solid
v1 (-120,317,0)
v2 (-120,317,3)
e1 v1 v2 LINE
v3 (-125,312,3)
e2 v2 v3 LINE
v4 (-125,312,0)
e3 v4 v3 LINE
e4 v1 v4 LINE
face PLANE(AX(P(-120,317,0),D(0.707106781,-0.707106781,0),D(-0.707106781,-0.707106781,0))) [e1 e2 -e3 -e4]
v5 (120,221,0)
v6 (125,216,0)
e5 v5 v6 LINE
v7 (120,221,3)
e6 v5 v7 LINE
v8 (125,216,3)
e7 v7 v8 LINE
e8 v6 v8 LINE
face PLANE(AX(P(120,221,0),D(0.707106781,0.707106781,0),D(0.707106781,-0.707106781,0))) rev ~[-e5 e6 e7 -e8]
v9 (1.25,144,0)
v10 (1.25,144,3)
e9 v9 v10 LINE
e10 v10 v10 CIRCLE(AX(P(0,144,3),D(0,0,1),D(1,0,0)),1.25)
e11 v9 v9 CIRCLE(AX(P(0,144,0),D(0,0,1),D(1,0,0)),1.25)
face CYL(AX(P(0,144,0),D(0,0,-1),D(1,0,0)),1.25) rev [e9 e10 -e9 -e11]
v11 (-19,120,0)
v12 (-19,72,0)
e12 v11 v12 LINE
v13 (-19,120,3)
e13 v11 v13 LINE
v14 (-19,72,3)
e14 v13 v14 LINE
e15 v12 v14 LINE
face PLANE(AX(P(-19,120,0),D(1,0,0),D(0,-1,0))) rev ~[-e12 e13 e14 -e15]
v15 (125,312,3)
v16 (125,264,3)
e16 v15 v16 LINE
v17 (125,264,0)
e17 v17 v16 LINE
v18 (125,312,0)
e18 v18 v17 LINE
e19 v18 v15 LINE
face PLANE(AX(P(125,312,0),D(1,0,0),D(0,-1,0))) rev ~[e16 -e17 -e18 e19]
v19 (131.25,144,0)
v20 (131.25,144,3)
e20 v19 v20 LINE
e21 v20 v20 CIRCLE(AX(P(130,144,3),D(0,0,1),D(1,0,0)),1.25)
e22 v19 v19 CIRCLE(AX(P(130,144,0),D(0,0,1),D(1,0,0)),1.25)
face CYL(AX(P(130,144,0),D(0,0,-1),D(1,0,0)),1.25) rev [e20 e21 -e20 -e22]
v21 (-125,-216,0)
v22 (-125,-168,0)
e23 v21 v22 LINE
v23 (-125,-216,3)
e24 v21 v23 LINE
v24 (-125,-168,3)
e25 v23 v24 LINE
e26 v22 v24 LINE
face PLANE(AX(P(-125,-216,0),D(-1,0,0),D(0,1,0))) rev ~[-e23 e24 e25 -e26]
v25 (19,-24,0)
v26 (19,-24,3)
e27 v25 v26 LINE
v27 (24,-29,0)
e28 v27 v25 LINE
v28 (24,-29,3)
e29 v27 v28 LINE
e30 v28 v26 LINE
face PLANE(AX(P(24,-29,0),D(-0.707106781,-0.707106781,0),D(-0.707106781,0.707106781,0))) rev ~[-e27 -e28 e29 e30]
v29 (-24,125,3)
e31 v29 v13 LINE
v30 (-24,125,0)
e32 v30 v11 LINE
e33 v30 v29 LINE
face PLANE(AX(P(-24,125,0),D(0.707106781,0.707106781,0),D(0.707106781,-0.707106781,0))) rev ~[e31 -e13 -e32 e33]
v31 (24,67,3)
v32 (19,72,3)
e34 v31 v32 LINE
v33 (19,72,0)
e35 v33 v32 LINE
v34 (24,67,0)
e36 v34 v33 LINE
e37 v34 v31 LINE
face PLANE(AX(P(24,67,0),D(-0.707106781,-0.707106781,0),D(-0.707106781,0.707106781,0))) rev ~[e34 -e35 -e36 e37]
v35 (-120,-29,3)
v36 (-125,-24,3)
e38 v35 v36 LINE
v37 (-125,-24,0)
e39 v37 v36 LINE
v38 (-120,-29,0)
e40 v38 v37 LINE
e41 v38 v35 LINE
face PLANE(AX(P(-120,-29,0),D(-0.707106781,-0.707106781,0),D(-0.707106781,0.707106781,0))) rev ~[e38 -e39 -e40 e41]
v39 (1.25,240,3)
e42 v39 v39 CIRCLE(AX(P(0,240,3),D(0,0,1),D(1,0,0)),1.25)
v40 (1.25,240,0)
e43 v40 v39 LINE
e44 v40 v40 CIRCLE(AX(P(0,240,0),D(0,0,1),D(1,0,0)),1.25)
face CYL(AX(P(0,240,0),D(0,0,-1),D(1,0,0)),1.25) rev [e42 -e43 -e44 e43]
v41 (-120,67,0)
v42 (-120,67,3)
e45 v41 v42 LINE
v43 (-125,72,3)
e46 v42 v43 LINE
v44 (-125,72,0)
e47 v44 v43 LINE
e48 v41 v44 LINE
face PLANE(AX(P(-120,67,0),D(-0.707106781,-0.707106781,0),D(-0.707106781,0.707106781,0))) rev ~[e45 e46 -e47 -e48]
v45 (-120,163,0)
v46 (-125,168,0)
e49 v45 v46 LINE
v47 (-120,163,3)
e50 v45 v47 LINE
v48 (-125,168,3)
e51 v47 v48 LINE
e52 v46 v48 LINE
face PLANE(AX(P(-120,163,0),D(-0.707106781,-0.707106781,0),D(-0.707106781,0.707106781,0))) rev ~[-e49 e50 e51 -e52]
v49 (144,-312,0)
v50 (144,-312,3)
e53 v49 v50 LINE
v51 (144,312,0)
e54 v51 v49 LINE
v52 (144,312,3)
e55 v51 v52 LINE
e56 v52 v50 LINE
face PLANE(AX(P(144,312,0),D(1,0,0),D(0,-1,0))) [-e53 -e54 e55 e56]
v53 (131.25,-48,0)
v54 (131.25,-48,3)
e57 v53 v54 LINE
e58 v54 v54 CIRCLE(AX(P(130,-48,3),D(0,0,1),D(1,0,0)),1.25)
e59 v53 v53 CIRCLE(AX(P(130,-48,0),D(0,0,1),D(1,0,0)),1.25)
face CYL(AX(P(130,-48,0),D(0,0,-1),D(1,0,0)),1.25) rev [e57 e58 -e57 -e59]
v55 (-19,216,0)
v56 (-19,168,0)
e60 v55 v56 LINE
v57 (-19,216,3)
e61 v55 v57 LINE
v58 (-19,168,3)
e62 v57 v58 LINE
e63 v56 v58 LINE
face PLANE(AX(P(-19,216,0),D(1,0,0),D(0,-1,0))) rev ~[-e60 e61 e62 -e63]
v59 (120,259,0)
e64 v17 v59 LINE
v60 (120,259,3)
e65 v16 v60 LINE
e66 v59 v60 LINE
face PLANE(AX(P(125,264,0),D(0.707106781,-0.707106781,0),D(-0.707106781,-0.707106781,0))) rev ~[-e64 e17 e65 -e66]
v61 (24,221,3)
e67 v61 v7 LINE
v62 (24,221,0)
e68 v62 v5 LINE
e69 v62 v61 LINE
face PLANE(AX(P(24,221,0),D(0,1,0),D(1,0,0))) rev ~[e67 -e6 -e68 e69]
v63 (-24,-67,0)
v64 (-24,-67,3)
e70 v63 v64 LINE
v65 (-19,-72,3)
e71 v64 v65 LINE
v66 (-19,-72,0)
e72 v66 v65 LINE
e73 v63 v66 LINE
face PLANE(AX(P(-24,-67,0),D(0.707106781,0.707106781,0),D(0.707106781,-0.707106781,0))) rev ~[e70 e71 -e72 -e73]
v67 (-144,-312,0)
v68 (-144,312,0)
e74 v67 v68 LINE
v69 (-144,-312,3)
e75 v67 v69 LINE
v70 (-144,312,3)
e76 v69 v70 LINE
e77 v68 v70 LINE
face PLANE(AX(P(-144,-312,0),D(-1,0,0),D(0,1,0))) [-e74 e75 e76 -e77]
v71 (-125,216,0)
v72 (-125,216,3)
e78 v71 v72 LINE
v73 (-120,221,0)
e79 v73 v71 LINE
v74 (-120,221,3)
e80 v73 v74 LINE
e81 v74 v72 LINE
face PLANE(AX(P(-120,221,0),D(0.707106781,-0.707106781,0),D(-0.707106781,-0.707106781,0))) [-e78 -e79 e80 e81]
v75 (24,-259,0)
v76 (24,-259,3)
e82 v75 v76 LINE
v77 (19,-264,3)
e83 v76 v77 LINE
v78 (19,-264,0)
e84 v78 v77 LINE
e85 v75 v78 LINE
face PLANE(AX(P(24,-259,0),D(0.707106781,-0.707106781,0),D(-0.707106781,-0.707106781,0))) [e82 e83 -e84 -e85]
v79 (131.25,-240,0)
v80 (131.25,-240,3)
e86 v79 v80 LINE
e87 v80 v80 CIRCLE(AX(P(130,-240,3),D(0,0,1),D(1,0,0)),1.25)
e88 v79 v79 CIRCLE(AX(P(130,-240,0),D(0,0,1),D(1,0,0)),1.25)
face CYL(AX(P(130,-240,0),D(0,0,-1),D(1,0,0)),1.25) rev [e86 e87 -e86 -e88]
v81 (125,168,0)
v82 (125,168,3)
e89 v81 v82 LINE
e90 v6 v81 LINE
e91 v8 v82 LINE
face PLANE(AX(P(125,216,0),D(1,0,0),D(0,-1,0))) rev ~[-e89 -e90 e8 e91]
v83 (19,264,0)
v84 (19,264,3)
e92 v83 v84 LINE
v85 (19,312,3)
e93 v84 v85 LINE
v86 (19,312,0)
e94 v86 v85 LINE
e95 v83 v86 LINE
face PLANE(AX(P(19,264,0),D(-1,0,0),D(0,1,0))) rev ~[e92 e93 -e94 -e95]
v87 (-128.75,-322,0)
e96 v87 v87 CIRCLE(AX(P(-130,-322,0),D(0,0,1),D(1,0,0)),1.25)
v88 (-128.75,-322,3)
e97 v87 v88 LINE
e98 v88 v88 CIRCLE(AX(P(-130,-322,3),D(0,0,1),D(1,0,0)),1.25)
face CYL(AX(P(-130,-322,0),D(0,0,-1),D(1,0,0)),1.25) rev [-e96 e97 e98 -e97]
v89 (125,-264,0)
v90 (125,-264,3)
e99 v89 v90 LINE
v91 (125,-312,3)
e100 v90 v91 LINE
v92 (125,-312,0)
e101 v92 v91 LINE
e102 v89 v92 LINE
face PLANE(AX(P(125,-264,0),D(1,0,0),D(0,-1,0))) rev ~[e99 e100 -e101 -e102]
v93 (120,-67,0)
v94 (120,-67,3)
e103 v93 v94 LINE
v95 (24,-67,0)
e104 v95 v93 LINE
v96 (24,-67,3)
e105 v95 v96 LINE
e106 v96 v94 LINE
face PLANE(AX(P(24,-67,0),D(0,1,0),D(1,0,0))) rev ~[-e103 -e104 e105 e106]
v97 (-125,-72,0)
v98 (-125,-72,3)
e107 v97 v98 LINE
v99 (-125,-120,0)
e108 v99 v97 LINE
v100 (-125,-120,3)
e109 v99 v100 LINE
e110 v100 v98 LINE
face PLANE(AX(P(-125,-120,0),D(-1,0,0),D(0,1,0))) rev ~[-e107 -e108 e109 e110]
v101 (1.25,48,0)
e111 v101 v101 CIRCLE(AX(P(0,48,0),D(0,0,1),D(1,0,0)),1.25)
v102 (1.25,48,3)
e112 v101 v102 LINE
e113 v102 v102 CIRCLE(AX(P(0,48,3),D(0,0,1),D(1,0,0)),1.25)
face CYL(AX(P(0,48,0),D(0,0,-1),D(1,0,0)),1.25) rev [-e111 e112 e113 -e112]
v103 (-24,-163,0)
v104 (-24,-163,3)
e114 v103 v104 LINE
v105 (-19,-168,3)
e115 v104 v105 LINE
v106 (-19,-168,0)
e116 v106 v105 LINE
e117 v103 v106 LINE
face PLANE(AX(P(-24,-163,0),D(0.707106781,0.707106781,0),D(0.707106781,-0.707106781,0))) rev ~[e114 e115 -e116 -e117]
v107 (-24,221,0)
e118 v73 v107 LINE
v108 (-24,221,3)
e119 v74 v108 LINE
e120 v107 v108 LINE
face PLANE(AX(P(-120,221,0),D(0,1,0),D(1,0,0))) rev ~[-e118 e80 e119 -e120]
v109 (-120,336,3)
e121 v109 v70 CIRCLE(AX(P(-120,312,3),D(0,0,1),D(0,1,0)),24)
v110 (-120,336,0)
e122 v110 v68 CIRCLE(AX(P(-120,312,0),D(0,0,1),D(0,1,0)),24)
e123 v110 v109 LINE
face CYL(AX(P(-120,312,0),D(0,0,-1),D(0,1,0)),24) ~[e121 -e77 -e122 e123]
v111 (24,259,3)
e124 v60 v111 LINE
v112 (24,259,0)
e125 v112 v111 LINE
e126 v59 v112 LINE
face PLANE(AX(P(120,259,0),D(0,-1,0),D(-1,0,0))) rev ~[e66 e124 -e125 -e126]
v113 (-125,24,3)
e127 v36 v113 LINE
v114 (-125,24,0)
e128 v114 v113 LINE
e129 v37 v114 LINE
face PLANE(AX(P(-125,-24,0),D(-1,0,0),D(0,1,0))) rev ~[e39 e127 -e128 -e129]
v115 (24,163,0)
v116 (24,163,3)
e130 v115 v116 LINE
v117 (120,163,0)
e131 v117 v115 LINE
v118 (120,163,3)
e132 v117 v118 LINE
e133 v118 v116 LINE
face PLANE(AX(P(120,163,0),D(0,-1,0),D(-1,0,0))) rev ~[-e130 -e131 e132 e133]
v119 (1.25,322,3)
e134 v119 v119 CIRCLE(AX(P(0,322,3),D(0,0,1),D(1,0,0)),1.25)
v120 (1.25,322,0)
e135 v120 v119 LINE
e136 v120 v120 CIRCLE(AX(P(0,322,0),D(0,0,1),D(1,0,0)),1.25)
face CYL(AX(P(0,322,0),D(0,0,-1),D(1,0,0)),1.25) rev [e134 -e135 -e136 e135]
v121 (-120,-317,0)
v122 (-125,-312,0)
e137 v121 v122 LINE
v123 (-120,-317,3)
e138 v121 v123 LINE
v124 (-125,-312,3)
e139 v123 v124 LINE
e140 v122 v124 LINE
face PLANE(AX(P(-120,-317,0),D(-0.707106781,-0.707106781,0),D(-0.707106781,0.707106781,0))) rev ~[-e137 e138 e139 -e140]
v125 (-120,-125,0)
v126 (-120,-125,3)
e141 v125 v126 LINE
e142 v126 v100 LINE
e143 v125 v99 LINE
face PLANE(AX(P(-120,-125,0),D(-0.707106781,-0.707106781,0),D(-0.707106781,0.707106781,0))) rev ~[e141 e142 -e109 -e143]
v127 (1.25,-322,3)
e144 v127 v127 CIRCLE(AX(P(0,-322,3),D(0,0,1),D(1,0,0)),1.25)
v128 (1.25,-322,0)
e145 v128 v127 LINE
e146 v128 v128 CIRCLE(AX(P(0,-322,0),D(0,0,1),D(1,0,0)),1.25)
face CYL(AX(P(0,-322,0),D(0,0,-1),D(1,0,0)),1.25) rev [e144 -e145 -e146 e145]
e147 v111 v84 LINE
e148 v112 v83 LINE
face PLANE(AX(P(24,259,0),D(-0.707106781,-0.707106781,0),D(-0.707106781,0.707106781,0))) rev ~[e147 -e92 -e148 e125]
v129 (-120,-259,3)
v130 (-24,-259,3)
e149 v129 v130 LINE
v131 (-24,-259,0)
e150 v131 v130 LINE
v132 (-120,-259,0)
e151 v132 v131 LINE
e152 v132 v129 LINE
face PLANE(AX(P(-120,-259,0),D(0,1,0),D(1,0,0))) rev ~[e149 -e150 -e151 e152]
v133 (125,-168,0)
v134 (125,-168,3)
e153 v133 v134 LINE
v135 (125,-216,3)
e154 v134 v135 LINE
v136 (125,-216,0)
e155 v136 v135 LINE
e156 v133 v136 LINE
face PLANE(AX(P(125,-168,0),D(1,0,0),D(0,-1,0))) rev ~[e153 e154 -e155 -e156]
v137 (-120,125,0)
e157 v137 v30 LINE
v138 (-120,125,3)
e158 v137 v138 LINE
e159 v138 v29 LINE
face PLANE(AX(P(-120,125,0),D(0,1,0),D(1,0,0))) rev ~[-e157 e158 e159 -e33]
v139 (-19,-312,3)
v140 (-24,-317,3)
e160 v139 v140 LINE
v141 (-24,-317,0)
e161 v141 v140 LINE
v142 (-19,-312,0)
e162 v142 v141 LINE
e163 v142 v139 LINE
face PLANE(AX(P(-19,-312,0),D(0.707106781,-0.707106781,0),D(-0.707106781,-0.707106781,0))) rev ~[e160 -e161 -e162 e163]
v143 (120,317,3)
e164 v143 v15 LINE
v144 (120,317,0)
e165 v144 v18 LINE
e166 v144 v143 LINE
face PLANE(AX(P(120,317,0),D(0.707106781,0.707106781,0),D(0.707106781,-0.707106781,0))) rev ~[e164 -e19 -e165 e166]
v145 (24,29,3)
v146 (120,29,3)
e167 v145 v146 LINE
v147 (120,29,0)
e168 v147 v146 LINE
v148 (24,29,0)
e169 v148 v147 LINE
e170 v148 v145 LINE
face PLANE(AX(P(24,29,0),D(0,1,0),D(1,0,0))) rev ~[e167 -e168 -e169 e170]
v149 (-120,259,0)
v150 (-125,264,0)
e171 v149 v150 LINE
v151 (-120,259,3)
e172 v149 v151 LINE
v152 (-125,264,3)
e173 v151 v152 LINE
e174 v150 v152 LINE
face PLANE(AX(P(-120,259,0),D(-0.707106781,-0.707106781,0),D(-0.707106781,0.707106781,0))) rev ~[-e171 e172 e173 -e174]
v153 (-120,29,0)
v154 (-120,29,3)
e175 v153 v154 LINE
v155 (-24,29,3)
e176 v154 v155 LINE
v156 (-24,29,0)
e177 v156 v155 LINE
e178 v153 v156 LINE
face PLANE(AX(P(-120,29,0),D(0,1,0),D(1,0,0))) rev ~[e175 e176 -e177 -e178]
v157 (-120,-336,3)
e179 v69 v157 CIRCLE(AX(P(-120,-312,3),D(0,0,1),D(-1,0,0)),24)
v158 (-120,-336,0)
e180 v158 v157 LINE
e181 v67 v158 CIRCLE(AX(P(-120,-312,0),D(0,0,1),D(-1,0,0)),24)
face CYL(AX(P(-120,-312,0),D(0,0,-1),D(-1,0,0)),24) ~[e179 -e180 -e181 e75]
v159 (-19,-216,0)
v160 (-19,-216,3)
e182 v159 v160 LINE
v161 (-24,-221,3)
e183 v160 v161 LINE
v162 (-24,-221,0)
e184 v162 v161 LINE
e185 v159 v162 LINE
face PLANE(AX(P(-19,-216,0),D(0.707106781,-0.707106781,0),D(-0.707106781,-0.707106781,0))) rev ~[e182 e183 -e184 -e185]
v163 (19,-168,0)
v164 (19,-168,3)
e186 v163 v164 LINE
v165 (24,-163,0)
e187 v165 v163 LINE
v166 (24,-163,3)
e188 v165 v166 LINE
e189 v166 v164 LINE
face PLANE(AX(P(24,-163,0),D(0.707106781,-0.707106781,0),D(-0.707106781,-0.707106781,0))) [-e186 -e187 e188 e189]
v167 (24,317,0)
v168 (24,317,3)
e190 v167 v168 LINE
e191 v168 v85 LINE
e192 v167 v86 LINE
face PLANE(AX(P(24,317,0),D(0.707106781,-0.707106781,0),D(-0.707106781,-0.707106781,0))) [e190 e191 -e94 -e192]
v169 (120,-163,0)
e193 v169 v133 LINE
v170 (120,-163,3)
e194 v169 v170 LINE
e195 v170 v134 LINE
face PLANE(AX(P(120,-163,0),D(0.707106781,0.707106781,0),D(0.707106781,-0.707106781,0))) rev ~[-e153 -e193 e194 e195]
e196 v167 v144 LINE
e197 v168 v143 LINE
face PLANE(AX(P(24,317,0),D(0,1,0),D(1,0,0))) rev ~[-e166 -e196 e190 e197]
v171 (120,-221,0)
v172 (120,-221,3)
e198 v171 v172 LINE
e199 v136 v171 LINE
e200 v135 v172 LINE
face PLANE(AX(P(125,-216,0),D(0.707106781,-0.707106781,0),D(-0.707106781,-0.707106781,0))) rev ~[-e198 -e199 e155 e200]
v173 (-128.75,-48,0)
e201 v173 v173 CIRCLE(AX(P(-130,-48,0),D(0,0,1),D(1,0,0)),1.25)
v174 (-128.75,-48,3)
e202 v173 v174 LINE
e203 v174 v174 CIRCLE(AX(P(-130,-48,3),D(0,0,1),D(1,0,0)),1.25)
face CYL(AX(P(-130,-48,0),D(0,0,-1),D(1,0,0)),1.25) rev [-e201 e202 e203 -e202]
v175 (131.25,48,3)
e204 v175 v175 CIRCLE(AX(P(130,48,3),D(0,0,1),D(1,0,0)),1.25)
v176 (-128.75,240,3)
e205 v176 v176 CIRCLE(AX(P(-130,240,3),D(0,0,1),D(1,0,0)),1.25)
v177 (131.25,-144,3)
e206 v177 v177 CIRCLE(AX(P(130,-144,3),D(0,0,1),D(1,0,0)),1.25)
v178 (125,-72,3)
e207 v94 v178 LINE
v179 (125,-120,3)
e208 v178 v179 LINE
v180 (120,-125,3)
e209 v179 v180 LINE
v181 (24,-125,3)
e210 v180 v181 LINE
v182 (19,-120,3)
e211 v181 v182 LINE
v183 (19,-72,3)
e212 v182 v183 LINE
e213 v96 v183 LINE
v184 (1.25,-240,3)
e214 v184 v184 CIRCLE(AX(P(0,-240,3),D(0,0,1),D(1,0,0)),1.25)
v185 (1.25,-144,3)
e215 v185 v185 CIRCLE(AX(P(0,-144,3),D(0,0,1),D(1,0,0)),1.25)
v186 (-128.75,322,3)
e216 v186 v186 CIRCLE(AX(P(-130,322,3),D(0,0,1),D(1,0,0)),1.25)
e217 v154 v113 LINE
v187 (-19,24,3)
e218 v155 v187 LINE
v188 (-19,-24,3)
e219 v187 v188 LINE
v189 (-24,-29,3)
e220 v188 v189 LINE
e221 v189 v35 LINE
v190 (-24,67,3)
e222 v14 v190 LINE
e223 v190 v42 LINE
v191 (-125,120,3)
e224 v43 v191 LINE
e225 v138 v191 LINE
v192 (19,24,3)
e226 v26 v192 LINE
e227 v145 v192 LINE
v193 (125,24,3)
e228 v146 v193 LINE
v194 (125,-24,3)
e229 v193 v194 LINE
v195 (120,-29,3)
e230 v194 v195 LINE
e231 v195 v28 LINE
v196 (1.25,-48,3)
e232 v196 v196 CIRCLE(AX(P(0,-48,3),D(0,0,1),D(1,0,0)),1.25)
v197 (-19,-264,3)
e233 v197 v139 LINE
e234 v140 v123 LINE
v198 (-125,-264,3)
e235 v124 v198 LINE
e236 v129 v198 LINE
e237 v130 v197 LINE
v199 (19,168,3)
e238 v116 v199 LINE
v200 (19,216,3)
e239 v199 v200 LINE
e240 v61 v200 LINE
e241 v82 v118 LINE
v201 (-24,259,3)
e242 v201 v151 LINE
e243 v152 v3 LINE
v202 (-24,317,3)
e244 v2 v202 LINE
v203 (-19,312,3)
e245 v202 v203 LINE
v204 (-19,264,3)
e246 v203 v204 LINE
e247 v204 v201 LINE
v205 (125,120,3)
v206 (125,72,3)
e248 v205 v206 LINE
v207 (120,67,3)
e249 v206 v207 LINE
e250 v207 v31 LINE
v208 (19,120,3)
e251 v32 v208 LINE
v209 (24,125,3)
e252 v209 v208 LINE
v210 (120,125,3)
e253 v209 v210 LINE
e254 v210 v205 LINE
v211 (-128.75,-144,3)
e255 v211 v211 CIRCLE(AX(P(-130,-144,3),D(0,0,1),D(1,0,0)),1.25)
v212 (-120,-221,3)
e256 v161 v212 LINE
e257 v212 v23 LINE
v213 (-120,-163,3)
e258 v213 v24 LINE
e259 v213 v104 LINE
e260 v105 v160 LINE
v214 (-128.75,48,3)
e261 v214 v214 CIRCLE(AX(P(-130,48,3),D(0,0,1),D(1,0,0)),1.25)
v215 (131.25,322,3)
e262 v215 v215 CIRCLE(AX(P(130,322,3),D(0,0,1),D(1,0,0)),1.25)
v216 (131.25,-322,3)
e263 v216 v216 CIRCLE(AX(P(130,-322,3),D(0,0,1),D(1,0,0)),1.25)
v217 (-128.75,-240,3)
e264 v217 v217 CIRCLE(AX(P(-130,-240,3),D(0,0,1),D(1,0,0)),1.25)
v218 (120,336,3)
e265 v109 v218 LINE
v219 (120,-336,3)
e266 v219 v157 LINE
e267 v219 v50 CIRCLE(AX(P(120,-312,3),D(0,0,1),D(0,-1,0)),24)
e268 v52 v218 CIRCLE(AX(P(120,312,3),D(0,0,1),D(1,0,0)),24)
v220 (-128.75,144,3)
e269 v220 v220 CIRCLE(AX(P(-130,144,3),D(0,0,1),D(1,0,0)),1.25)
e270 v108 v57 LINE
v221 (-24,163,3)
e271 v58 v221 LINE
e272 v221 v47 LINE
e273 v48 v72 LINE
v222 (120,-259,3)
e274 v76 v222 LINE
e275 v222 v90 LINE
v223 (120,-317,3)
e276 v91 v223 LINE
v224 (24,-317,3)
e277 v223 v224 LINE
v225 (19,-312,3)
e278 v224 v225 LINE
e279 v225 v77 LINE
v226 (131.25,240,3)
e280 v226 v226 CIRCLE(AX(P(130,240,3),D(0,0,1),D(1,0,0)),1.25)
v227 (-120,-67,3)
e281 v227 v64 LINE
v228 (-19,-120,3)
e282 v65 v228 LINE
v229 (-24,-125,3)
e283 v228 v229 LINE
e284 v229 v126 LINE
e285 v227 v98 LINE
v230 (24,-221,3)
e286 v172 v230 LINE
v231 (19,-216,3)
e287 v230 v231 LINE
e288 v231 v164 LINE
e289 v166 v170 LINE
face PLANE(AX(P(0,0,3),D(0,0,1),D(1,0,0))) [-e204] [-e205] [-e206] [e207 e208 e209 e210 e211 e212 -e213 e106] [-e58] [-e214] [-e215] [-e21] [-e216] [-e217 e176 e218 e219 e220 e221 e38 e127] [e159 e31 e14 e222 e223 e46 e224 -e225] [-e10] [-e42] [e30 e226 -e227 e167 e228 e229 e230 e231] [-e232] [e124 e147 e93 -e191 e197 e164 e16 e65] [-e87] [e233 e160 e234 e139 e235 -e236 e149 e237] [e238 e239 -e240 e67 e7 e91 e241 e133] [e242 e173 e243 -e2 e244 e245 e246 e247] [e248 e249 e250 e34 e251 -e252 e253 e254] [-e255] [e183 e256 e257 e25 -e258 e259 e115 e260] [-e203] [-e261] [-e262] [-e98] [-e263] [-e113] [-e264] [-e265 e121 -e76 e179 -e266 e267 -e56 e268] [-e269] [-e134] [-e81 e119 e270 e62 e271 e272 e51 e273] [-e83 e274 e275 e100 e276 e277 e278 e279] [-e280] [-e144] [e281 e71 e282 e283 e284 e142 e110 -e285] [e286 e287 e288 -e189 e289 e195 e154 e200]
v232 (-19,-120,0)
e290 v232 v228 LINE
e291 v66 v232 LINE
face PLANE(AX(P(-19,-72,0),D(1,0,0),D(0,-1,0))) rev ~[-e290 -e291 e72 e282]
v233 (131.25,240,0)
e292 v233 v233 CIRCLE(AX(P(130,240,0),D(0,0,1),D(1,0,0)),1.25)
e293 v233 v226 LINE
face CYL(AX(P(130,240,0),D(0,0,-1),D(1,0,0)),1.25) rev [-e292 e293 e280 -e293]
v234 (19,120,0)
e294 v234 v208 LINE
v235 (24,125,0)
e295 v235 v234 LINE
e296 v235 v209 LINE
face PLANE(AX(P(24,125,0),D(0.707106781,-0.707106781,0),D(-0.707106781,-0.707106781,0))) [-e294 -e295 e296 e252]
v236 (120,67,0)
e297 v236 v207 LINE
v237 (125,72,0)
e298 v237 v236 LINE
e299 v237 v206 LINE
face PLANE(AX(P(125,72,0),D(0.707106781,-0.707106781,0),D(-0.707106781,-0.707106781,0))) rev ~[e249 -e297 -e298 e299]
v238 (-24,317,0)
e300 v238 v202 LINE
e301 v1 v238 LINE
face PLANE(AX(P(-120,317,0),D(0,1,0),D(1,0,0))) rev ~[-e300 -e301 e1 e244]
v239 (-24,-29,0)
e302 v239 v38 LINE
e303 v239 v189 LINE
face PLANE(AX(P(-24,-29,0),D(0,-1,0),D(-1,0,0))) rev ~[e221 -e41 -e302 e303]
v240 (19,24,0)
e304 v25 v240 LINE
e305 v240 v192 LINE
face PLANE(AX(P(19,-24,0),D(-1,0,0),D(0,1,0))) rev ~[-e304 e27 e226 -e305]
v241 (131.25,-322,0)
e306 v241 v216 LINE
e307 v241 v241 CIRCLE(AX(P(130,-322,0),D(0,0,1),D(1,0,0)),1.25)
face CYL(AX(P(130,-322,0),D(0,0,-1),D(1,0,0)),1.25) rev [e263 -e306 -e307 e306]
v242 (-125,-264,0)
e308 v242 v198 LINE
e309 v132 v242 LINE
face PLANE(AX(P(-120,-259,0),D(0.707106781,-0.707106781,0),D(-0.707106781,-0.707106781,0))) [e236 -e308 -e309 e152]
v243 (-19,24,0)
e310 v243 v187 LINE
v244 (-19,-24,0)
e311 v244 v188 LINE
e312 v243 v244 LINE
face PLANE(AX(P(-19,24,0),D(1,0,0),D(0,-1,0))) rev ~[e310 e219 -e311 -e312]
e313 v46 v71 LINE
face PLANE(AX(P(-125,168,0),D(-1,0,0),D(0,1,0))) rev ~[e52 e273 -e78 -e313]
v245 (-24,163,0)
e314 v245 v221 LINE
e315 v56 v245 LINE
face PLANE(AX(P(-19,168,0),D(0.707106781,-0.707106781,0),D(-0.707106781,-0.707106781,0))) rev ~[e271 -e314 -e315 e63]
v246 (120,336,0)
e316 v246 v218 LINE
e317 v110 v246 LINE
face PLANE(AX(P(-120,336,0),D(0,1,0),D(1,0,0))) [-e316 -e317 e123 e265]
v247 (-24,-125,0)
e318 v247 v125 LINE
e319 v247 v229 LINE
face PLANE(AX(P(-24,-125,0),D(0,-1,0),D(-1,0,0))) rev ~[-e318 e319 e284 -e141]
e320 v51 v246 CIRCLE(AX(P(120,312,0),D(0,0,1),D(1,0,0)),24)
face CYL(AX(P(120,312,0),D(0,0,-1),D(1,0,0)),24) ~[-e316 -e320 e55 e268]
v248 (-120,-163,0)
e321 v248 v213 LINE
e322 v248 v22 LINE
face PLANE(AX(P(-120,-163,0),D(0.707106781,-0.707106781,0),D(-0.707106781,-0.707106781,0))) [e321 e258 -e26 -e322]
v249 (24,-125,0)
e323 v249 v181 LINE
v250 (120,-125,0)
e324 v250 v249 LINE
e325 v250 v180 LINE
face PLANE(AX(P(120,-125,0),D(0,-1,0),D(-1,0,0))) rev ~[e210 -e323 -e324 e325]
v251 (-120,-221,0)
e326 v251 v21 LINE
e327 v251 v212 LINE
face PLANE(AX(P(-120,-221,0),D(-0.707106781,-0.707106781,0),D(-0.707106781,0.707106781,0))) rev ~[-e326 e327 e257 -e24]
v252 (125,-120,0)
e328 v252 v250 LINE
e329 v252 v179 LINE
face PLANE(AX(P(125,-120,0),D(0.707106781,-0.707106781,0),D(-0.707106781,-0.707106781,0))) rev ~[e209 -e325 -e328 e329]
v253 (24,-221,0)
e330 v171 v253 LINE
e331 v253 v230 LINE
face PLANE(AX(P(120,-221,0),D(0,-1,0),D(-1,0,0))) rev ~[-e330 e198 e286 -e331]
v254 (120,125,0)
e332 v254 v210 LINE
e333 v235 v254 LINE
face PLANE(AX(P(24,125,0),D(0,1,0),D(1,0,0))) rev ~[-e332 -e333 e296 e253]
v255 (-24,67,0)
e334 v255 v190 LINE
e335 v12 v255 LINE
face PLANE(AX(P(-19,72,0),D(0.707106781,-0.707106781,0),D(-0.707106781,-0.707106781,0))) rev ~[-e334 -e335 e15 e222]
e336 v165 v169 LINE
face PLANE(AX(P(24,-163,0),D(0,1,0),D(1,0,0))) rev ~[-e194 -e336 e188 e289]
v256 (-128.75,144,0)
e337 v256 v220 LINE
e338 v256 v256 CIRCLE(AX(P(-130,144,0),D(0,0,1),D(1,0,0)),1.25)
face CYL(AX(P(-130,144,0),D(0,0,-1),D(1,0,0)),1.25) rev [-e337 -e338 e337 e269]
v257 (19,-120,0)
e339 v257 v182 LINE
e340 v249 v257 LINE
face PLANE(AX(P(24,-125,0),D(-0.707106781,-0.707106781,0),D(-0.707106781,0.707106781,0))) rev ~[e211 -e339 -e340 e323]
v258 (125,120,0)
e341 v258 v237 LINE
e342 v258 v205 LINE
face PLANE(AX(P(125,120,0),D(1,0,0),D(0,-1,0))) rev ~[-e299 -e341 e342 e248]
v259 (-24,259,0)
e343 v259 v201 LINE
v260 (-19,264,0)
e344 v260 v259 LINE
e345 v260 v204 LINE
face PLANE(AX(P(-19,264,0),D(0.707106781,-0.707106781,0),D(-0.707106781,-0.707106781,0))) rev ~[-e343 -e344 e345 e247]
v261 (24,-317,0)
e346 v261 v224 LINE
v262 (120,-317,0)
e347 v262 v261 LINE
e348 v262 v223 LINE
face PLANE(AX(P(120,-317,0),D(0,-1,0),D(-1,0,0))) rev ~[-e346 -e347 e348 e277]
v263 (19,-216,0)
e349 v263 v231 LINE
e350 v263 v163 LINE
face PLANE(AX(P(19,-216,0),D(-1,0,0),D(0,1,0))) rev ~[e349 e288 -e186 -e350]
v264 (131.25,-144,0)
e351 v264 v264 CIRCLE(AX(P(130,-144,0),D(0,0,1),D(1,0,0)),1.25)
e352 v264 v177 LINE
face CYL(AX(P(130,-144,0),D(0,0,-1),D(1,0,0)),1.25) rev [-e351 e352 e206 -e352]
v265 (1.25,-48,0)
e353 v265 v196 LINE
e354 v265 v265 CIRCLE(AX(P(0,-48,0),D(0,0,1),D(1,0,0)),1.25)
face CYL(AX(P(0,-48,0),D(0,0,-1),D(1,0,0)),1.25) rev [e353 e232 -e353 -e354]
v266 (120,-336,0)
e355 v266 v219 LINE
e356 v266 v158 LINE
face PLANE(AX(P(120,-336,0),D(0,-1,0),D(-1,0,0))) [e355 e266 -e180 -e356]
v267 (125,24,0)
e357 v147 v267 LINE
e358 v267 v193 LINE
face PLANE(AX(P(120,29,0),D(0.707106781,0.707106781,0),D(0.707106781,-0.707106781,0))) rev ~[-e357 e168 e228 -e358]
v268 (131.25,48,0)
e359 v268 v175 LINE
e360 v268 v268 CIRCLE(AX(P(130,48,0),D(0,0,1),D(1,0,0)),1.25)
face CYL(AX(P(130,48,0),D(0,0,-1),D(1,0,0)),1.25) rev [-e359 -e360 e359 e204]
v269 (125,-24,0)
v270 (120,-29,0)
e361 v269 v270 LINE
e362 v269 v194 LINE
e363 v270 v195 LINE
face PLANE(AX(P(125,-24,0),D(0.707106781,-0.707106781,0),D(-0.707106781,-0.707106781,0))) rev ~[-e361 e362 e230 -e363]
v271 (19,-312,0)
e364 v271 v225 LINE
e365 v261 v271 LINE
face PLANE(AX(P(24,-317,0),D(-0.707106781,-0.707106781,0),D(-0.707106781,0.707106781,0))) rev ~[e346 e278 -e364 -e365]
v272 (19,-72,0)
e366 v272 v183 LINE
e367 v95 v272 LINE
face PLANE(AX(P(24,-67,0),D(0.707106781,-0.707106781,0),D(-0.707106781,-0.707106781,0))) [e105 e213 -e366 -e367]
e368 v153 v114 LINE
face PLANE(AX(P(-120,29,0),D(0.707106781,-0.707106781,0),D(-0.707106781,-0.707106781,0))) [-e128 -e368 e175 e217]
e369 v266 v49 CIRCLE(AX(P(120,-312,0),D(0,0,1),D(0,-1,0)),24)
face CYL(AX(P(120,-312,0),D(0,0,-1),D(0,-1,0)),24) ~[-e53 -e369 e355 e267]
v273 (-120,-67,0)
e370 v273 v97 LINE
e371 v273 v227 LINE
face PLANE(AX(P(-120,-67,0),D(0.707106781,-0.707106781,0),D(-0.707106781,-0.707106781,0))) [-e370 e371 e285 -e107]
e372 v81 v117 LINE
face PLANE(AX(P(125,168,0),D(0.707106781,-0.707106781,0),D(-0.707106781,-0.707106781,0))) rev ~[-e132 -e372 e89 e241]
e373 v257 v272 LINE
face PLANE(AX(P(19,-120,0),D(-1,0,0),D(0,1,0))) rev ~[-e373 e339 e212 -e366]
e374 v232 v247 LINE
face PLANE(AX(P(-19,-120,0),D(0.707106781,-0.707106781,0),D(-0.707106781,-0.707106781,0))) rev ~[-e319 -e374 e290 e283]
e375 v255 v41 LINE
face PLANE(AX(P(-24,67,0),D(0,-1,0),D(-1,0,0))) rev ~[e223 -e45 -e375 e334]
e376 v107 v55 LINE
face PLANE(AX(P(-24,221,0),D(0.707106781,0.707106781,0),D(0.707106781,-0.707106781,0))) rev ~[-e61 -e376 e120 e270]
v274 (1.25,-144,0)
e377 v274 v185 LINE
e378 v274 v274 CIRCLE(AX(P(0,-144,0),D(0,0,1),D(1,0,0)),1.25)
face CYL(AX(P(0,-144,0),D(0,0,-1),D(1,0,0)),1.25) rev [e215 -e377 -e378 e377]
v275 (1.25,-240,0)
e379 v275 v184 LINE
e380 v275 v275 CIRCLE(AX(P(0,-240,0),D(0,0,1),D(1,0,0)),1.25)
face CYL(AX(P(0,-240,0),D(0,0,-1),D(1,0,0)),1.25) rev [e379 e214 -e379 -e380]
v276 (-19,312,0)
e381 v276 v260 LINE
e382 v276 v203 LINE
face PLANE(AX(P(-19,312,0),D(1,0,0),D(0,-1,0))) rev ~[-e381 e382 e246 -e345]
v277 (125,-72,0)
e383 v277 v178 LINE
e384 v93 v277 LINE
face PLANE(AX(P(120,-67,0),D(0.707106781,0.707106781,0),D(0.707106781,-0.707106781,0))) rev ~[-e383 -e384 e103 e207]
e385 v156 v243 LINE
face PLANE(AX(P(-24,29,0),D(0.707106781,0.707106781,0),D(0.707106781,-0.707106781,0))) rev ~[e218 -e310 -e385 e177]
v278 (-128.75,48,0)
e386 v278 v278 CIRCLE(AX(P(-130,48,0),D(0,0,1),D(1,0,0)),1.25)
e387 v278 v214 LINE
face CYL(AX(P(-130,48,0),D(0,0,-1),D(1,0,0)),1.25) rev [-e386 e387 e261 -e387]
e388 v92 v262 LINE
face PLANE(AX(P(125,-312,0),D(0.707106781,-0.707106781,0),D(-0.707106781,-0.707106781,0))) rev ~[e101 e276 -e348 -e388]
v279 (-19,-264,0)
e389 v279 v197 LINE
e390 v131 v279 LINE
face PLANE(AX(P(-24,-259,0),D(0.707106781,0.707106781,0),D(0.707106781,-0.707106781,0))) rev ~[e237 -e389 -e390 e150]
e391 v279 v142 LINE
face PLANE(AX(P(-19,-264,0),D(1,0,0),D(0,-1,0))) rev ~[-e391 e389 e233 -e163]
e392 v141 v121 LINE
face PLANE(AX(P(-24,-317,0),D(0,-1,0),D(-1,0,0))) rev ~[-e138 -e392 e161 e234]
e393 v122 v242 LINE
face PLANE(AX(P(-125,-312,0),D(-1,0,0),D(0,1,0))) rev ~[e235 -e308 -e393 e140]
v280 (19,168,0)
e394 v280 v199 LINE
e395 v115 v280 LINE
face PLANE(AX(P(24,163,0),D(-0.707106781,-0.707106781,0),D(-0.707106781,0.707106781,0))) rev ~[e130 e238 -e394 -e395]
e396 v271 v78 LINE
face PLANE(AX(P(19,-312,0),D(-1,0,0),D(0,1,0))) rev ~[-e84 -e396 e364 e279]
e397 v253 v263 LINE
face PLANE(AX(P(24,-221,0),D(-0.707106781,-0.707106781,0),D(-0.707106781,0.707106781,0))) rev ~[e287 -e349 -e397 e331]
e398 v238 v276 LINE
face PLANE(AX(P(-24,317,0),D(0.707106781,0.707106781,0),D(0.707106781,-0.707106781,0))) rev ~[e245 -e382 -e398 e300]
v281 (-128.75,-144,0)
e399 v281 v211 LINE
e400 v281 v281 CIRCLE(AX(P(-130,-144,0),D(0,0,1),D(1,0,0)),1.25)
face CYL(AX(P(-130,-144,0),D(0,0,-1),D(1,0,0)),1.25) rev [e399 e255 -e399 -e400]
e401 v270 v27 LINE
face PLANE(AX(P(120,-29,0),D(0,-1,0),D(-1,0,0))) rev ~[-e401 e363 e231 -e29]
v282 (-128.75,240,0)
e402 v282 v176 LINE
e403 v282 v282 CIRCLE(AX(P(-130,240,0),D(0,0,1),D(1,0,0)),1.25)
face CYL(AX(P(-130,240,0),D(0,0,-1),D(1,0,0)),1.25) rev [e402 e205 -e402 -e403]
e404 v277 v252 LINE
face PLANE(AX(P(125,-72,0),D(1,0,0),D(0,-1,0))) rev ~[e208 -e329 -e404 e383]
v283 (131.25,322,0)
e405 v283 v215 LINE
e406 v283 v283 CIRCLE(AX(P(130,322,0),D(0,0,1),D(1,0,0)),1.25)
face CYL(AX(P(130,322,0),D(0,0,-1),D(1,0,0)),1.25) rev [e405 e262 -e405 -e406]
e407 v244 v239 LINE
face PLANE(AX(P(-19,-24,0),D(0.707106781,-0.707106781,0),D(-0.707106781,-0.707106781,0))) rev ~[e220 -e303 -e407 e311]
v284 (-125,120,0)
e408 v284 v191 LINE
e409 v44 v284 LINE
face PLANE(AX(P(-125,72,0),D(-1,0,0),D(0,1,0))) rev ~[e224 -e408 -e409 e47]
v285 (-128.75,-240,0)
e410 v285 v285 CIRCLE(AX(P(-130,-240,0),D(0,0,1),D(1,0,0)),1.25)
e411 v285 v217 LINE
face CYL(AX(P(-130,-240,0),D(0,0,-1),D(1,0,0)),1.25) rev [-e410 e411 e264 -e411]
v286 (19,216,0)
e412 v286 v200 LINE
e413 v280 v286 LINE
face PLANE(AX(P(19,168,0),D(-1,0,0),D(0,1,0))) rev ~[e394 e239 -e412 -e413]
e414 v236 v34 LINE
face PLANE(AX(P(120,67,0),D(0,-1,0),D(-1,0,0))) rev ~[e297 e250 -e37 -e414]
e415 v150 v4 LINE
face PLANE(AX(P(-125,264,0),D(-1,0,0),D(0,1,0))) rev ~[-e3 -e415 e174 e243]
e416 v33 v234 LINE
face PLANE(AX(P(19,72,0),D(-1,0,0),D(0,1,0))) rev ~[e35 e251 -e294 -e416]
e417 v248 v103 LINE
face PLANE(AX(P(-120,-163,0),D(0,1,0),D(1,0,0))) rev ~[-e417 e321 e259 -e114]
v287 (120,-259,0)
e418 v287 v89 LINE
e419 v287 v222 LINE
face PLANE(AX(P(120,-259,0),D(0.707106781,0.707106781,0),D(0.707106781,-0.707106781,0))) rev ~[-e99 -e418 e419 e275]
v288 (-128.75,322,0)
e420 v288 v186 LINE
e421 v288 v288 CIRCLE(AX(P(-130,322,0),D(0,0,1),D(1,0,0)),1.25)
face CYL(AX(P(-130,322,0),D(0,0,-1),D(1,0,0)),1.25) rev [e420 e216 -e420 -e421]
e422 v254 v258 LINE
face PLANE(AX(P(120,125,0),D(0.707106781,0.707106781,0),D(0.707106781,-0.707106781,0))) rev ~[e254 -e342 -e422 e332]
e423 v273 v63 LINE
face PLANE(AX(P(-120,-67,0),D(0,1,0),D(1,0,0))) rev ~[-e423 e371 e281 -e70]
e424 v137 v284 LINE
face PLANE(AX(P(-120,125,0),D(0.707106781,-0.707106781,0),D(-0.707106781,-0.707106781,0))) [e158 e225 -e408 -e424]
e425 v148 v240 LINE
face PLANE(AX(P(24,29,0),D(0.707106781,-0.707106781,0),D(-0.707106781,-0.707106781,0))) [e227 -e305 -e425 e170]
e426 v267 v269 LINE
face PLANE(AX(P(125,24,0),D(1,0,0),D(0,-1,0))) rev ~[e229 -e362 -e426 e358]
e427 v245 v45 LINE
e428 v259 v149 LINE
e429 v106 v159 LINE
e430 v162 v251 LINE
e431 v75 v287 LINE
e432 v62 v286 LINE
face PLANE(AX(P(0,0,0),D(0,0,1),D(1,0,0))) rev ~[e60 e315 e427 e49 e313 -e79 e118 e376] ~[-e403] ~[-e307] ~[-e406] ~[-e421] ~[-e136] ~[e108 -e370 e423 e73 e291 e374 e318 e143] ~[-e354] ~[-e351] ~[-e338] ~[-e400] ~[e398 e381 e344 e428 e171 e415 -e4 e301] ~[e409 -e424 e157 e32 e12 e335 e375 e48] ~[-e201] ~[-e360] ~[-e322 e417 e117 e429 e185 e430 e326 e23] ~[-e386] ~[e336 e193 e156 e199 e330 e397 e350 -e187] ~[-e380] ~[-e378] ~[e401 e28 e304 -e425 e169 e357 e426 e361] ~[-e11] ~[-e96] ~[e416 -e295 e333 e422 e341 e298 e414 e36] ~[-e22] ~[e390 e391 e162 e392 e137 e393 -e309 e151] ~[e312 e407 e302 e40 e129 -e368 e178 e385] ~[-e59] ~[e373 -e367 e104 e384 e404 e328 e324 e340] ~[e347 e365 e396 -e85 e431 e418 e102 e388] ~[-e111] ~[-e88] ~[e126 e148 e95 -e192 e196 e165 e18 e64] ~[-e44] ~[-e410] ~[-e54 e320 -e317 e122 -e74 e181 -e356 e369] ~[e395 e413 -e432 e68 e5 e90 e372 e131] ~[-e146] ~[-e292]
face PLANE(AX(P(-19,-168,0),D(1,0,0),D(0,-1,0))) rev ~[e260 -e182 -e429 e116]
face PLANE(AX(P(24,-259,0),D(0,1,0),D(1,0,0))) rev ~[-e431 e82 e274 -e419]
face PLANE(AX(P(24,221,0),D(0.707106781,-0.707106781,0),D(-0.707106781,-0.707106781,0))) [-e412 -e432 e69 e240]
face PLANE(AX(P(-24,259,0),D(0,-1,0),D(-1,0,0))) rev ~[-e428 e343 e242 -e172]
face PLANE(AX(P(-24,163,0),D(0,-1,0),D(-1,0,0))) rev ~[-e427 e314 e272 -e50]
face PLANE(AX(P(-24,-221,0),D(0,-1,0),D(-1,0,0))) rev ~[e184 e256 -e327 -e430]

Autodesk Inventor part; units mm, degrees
ref_plane "YZ Plane" through (0, 0, 0) normal (1, 0, 0) x (0, 1, 0)
ref_plane "XZ Plane" through (0, 0, 0) normal (0, 1, 0) x (-1, 0, 0)
ref_plane "XY Plane" through (0, 0, 0) normal (0, 0, 1) x (1, 0, 0)
sketch "Esquisse1" plane through (0, 0, 0) normal (0, 0, 1) x (1, 0, 0)
  line L0 (-120, 336) -> (120, 336)
  line L1 (144, 312) -> (144, -312)
  line L2 (120, -336) -> (-120, -336)
  line L3 (-144, -312) -> (-144, 312)
  arc A0 (-120, 336) -> (-144, 312) centre (-120, 312) ccw
  arc A1 (144, 312) -> (120, 336) centre (120, 312) ccw
  arc A2 (120, -336) -> (144, -312) centre (120, -312) ccw
  arc A3 (-144, -312) -> (-120, -336) centre (-120, -312) ccw
  line L4 (24, -259) -> (120, -259)
  line L5 (125, -264) -> (125, -312)
  line L6 (120, -317) -> (24, -317)
  line L7 (19, -312) -> (19, -264)
  line L8 (24, -259) -> (19, -264)
  line L9 (120, -259) -> (125, -264)
  line L10 (125, -312) -> (120, -317)
  line L11 (24, -317) -> (19, -312)
  line L12 (24, -163) -> (19, -168)
  line L13 (24, -163) -> (120, -163)
  line L14 (120, -163) -> (125, -168)
  line L15 (19, -216) -> (19, -168)
  line L16 (24, -221) -> (19, -216)
  line L17 (120, -221) -> (24, -221)
  line L18 (125, -168) -> (125, -216)
  line L19 (125, -216) -> (120, -221)
  line L20 (24, -67) -> (19, -72)
  line L21 (24, -67) -> (120, -67)
  line L22 (120, -67) -> (125, -72)
  line L23 (19, -120) -> (19, -72)
  line L24 (24, -125) -> (19, -120)
  line L25 (120, -125) -> (24, -125)
  line L26 (125, -72) -> (125, -120)
  line L27 (125, -120) -> (120, -125)
  line L28 (24, 29) -> (19, 24)
  line L29 (24, 29) -> (120, 29)
  line L30 (120, 29) -> (125, 24)
  line L31 (19, -24) -> (19, 24)
  line L32 (24, -29) -> (19, -24)
  line L33 (120, -29) -> (24, -29)
  line L34 (125, 24) -> (125, -24)
  line L35 (125, -24) -> (120, -29)
  line L36 (24, 125) -> (19, 120)
  line L37 (24, 125) -> (120, 125)
  line L38 (120, 125) -> (125, 120)
  line L39 (19, 72) -> (19, 120)
  line L40 (24, 67) -> (19, 72)
  line L41 (120, 67) -> (24, 67)
  line L42 (125, 120) -> (125, 72)
  line L43 (125, 72) -> (120, 67)
  line L44 (24, 221) -> (19, 216)
  line L45 (24, 221) -> (120, 221)
  line L46 (120, 221) -> (125, 216)
  line L47 (19, 168) -> (19, 216)
  line L48 (24, 163) -> (19, 168)
  line L49 (120, 163) -> (24, 163)
  line L50 (125, 216) -> (125, 168)
  line L51 (125, 168) -> (120, 163)
  line L52 (24, 317) -> (19, 312)
  line L53 (24, 317) -> (120, 317)
  line L54 (120, 317) -> (125, 312)
  line L55 (19, 264) -> (19, 312)
  line L56 (24, 259) -> (19, 264)
  line L57 (120, 259) -> (24, 259)
  line L58 (125, 312) -> (125, 264)
  line L59 (125, 264) -> (120, 259)
  line L60 (-120, -259) -> (-125, -264)
  line L61 (-120, -259) -> (-24, -259)
  line L62 (-24, -259) -> (-19, -264)
  line L63 (-125, -312) -> (-125, -264)
  line L64 (-120, -317) -> (-125, -312)
  line L65 (-24, -317) -> (-120, -317)
  line L66 (-19, -264) -> (-19, -312)
  line L67 (-19, -312) -> (-24, -317)
  line L68 (-120, -163) -> (-125, -168)
  line L69 (-120, -163) -> (-24, -163)
  line L70 (-24, -163) -> (-19, -168)
  line L71 (-125, -216) -> (-125, -168)
  line L72 (-120, -221) -> (-125, -216)
  line L73 (-24, -221) -> (-120, -221)
  line L74 (-19, -168) -> (-19, -216)
  line L75 (-19, -216) -> (-24, -221)
  line L76 (-120, -67) -> (-125, -72)
  line L77 (-120, -67) -> (-24, -67)
  line L78 (-24, -67) -> (-19, -72)
  line L79 (-125, -120) -> (-125, -72)
  line L80 (-120, -125) -> (-125, -120)
  line L81 (-24, -125) -> (-120, -125)
  line L82 (-19, -72) -> (-19, -120)
  line L83 (-19, -120) -> (-24, -125)
  line L84 (-120, 29) -> (-125, 24)
  line L85 (-120, 29) -> (-24, 29)
  line L86 (-24, 29) -> (-19, 24)
  line L87 (-125, -24) -> (-125, 24)
  line L88 (-120, -29) -> (-125, -24)
  line L89 (-24, -29) -> (-120, -29)
  line L90 (-19, 24) -> (-19, -24)
  line L91 (-19, -24) -> (-24, -29)
  line L92 (-120, 125) -> (-125, 120)
  line L93 (-120, 125) -> (-24, 125)
  line L94 (-24, 125) -> (-19, 120)
  line L95 (-125, 72) -> (-125, 120)
  line L96 (-120, 67) -> (-125, 72)
  line L97 (-24, 67) -> (-120, 67)
  line L98 (-19, 120) -> (-19, 72)
  line L99 (-19, 72) -> (-24, 67)
  line L100 (-120, 221) -> (-125, 216)
  line L101 (-120, 221) -> (-24, 221)
  line L102 (-24, 221) -> (-19, 216)
  line L103 (-125, 168) -> (-125, 216)
  line L104 (-120, 163) -> (-125, 168)
  line L105 (-24, 163) -> (-120, 163)
  line L106 (-19, 216) -> (-19, 168)
  line L107 (-19, 168) -> (-24, 163)
  line L108 (-120, 317) -> (-125, 312)
  line L109 (-120, 317) -> (-24, 317)
  line L110 (-24, 317) -> (-19, 312)
  line L111 (-125, 264) -> (-125, 312)
  line L112 (-120, 259) -> (-125, 264)
  line L113 (-24, 259) -> (-120, 259)
  line L114 (-19, 312) -> (-19, 264)
  line L115 (-19, 264) -> (-24, 259)
  circle A4 centre (130, -322) radius 1.25
  circle A5 centre (130, 322) radius 1.25
  circle A6 centre (0, -322) radius 1.25
  circle A7 centre (0, 322) radius 1.25
  circle A8 centre (-130, -322) radius 1.25
  circle A9 centre (-130, 322) radius 1.25
  circle A10 centre (130, -240) radius 1.25
  circle A11 centre (130, -144) radius 1.25
  circle A12 centre (130, -48) radius 1.25
  circle A13 centre (130, 48) radius 1.25
  circle A14 centre (130, 144) radius 1.25
  circle A15 centre (130, 240) radius 1.25
  circle A16 centre (0, -240) radius 1.25
  circle A17 centre (0, -144) radius 1.25
  circle A18 centre (0, -48) radius 1.25
  circle A19 centre (0, 48) radius 1.25
  circle A20 centre (0, 144) radius 1.25
  circle A21 centre (0, 240) radius 1.25
  circle A22 centre (-130, -240) radius 1.25
  circle A23 centre (-130, -144) radius 1.25
  circle A24 centre (-130, -48) radius 1.25
  circle A25 centre (-130, 48) radius 1.25
  circle A26 centre (-130, 144) radius 1.25
  circle A27 centre (-130, 240) radius 1.25
  point P0 (0, 0)
  point P1 (-144, 336)
  point P2 (144, 336)
  point P3 (-144, -336)
  point P4 (19, -259)
  point P5 (125, -317)
  point P6 (125, -259)
  point P7 (19, -317)
  point P8 (19, -163)
  point P9 (125, -163)
  point P10 (19, -221)
  point P11 (125, -221)
  point P12 (120, -216)
  point P13 (19, -67)
  point P14 (125, -67)
  point P15 (19, -125)
  point P16 (125, -125)
  point P17 (120, -120)
  point P18 (19, 29)
  point P19 (125, 29)
  point P20 (19, -29)
  point P21 (125, -29)
  point P22 (120, -24)
  point P23 (19, 125)
  point P24 (125, 125)
  point P25 (19, 67)
  point P26 (125, 67)
  point P27 (120, 72)
  point P28 (19, 221)
  point P29 (125, 221)
  point P30 (19, 163)
  point P31 (125, 163)
  point P32 (120, 168)
  point P33 (19, 317)
  point P34 (125, 317)
  point P35 (19, 259)
  point P36 (125, 259)
  point P37 (120, 264)
  point P38 (-125, -259)
  point P39 (-19, -259)
  point P40 (-125, -317)
  point P41 (-19, -317)
  point P42 (-24, -312)
  point P43 (-125, -163)
  point P44 (-19, -163)
  point P45 (-125, -221)
  point P46 (-19, -221)
  point P47 (-24, -216)
  point P48 (-125, -67)
  point P49 (-19, -67)
  point P50 (-125, -125)
  point P51 (-19, -125)
  point P52 (-24, -120)
  point P53 (-125, 29)
  point P54 (-19, 29)
  point P55 (-125, -29)
  point P56 (-19, -29)
  point P57 (-24, -24)
  point P58 (-125, 125)
  point P59 (-19, 125)
  point P60 (-125, 67)
  point P61 (-19, 67)
  point P62 (-24, 72)
  point P63 (-125, 221)
  point P64 (-19, 221)
  point P65 (-125, 163)
  point P66 (-19, 163)
  point P67 (-24, 168)
  point P68 (-125, 317)
  point P69 (-19, 317)
  point P70 (-125, 259)
  point P71 (-19, 259)
  point P72 (-24, 264)
  dimension "d0" = 672
  dimension "d1" = 288
  dimension "d2" = 144
  dimension "d3" = 336
  dimension "d4" = 24
  dimension "d5" = 106
  dimension "d6" = 58
  dimension "d7" = 19
  dimension "d8" = 19
  dimension "d9" = 5
  dimension "d10" = 5
  dimension "d11" = 5
  dimension "d12" = 5
  dimension "d13" = 5
  dimension "d14" = 5
  dimension "d15" = 5
  dimension "d16" = 5
  dimension "d19" = 96
  dimension "d22" = 144
  dimension "d25" = 2.5
  dimension "d26" = 14
  dimension "d27" = 14
  dimension "d30" = 644
  dimension "d33" = 130
  dimension "d36" = 2.5
  dimension "d37" = 14
  dimension "d38" = 96
  dimension "d41" = 96
  dimension "d44" = 130
extrude "Extrusion1" add sketch "Esquisse1" along normal blind 3
equation "\"d2\" = 0.5 * d1"
equation "\"d3\" = 0.5 * d0"
equation "\"d10\" = d9"
equation "\"d11\" = d9"
equation "\"d12\" = d11"
equation "\"d13\" = d9"
equation "\"d14\" = d13"
equation "\"d15\" = d9"
equation "\"d16\" = d15"
properties part number "front_Box"
